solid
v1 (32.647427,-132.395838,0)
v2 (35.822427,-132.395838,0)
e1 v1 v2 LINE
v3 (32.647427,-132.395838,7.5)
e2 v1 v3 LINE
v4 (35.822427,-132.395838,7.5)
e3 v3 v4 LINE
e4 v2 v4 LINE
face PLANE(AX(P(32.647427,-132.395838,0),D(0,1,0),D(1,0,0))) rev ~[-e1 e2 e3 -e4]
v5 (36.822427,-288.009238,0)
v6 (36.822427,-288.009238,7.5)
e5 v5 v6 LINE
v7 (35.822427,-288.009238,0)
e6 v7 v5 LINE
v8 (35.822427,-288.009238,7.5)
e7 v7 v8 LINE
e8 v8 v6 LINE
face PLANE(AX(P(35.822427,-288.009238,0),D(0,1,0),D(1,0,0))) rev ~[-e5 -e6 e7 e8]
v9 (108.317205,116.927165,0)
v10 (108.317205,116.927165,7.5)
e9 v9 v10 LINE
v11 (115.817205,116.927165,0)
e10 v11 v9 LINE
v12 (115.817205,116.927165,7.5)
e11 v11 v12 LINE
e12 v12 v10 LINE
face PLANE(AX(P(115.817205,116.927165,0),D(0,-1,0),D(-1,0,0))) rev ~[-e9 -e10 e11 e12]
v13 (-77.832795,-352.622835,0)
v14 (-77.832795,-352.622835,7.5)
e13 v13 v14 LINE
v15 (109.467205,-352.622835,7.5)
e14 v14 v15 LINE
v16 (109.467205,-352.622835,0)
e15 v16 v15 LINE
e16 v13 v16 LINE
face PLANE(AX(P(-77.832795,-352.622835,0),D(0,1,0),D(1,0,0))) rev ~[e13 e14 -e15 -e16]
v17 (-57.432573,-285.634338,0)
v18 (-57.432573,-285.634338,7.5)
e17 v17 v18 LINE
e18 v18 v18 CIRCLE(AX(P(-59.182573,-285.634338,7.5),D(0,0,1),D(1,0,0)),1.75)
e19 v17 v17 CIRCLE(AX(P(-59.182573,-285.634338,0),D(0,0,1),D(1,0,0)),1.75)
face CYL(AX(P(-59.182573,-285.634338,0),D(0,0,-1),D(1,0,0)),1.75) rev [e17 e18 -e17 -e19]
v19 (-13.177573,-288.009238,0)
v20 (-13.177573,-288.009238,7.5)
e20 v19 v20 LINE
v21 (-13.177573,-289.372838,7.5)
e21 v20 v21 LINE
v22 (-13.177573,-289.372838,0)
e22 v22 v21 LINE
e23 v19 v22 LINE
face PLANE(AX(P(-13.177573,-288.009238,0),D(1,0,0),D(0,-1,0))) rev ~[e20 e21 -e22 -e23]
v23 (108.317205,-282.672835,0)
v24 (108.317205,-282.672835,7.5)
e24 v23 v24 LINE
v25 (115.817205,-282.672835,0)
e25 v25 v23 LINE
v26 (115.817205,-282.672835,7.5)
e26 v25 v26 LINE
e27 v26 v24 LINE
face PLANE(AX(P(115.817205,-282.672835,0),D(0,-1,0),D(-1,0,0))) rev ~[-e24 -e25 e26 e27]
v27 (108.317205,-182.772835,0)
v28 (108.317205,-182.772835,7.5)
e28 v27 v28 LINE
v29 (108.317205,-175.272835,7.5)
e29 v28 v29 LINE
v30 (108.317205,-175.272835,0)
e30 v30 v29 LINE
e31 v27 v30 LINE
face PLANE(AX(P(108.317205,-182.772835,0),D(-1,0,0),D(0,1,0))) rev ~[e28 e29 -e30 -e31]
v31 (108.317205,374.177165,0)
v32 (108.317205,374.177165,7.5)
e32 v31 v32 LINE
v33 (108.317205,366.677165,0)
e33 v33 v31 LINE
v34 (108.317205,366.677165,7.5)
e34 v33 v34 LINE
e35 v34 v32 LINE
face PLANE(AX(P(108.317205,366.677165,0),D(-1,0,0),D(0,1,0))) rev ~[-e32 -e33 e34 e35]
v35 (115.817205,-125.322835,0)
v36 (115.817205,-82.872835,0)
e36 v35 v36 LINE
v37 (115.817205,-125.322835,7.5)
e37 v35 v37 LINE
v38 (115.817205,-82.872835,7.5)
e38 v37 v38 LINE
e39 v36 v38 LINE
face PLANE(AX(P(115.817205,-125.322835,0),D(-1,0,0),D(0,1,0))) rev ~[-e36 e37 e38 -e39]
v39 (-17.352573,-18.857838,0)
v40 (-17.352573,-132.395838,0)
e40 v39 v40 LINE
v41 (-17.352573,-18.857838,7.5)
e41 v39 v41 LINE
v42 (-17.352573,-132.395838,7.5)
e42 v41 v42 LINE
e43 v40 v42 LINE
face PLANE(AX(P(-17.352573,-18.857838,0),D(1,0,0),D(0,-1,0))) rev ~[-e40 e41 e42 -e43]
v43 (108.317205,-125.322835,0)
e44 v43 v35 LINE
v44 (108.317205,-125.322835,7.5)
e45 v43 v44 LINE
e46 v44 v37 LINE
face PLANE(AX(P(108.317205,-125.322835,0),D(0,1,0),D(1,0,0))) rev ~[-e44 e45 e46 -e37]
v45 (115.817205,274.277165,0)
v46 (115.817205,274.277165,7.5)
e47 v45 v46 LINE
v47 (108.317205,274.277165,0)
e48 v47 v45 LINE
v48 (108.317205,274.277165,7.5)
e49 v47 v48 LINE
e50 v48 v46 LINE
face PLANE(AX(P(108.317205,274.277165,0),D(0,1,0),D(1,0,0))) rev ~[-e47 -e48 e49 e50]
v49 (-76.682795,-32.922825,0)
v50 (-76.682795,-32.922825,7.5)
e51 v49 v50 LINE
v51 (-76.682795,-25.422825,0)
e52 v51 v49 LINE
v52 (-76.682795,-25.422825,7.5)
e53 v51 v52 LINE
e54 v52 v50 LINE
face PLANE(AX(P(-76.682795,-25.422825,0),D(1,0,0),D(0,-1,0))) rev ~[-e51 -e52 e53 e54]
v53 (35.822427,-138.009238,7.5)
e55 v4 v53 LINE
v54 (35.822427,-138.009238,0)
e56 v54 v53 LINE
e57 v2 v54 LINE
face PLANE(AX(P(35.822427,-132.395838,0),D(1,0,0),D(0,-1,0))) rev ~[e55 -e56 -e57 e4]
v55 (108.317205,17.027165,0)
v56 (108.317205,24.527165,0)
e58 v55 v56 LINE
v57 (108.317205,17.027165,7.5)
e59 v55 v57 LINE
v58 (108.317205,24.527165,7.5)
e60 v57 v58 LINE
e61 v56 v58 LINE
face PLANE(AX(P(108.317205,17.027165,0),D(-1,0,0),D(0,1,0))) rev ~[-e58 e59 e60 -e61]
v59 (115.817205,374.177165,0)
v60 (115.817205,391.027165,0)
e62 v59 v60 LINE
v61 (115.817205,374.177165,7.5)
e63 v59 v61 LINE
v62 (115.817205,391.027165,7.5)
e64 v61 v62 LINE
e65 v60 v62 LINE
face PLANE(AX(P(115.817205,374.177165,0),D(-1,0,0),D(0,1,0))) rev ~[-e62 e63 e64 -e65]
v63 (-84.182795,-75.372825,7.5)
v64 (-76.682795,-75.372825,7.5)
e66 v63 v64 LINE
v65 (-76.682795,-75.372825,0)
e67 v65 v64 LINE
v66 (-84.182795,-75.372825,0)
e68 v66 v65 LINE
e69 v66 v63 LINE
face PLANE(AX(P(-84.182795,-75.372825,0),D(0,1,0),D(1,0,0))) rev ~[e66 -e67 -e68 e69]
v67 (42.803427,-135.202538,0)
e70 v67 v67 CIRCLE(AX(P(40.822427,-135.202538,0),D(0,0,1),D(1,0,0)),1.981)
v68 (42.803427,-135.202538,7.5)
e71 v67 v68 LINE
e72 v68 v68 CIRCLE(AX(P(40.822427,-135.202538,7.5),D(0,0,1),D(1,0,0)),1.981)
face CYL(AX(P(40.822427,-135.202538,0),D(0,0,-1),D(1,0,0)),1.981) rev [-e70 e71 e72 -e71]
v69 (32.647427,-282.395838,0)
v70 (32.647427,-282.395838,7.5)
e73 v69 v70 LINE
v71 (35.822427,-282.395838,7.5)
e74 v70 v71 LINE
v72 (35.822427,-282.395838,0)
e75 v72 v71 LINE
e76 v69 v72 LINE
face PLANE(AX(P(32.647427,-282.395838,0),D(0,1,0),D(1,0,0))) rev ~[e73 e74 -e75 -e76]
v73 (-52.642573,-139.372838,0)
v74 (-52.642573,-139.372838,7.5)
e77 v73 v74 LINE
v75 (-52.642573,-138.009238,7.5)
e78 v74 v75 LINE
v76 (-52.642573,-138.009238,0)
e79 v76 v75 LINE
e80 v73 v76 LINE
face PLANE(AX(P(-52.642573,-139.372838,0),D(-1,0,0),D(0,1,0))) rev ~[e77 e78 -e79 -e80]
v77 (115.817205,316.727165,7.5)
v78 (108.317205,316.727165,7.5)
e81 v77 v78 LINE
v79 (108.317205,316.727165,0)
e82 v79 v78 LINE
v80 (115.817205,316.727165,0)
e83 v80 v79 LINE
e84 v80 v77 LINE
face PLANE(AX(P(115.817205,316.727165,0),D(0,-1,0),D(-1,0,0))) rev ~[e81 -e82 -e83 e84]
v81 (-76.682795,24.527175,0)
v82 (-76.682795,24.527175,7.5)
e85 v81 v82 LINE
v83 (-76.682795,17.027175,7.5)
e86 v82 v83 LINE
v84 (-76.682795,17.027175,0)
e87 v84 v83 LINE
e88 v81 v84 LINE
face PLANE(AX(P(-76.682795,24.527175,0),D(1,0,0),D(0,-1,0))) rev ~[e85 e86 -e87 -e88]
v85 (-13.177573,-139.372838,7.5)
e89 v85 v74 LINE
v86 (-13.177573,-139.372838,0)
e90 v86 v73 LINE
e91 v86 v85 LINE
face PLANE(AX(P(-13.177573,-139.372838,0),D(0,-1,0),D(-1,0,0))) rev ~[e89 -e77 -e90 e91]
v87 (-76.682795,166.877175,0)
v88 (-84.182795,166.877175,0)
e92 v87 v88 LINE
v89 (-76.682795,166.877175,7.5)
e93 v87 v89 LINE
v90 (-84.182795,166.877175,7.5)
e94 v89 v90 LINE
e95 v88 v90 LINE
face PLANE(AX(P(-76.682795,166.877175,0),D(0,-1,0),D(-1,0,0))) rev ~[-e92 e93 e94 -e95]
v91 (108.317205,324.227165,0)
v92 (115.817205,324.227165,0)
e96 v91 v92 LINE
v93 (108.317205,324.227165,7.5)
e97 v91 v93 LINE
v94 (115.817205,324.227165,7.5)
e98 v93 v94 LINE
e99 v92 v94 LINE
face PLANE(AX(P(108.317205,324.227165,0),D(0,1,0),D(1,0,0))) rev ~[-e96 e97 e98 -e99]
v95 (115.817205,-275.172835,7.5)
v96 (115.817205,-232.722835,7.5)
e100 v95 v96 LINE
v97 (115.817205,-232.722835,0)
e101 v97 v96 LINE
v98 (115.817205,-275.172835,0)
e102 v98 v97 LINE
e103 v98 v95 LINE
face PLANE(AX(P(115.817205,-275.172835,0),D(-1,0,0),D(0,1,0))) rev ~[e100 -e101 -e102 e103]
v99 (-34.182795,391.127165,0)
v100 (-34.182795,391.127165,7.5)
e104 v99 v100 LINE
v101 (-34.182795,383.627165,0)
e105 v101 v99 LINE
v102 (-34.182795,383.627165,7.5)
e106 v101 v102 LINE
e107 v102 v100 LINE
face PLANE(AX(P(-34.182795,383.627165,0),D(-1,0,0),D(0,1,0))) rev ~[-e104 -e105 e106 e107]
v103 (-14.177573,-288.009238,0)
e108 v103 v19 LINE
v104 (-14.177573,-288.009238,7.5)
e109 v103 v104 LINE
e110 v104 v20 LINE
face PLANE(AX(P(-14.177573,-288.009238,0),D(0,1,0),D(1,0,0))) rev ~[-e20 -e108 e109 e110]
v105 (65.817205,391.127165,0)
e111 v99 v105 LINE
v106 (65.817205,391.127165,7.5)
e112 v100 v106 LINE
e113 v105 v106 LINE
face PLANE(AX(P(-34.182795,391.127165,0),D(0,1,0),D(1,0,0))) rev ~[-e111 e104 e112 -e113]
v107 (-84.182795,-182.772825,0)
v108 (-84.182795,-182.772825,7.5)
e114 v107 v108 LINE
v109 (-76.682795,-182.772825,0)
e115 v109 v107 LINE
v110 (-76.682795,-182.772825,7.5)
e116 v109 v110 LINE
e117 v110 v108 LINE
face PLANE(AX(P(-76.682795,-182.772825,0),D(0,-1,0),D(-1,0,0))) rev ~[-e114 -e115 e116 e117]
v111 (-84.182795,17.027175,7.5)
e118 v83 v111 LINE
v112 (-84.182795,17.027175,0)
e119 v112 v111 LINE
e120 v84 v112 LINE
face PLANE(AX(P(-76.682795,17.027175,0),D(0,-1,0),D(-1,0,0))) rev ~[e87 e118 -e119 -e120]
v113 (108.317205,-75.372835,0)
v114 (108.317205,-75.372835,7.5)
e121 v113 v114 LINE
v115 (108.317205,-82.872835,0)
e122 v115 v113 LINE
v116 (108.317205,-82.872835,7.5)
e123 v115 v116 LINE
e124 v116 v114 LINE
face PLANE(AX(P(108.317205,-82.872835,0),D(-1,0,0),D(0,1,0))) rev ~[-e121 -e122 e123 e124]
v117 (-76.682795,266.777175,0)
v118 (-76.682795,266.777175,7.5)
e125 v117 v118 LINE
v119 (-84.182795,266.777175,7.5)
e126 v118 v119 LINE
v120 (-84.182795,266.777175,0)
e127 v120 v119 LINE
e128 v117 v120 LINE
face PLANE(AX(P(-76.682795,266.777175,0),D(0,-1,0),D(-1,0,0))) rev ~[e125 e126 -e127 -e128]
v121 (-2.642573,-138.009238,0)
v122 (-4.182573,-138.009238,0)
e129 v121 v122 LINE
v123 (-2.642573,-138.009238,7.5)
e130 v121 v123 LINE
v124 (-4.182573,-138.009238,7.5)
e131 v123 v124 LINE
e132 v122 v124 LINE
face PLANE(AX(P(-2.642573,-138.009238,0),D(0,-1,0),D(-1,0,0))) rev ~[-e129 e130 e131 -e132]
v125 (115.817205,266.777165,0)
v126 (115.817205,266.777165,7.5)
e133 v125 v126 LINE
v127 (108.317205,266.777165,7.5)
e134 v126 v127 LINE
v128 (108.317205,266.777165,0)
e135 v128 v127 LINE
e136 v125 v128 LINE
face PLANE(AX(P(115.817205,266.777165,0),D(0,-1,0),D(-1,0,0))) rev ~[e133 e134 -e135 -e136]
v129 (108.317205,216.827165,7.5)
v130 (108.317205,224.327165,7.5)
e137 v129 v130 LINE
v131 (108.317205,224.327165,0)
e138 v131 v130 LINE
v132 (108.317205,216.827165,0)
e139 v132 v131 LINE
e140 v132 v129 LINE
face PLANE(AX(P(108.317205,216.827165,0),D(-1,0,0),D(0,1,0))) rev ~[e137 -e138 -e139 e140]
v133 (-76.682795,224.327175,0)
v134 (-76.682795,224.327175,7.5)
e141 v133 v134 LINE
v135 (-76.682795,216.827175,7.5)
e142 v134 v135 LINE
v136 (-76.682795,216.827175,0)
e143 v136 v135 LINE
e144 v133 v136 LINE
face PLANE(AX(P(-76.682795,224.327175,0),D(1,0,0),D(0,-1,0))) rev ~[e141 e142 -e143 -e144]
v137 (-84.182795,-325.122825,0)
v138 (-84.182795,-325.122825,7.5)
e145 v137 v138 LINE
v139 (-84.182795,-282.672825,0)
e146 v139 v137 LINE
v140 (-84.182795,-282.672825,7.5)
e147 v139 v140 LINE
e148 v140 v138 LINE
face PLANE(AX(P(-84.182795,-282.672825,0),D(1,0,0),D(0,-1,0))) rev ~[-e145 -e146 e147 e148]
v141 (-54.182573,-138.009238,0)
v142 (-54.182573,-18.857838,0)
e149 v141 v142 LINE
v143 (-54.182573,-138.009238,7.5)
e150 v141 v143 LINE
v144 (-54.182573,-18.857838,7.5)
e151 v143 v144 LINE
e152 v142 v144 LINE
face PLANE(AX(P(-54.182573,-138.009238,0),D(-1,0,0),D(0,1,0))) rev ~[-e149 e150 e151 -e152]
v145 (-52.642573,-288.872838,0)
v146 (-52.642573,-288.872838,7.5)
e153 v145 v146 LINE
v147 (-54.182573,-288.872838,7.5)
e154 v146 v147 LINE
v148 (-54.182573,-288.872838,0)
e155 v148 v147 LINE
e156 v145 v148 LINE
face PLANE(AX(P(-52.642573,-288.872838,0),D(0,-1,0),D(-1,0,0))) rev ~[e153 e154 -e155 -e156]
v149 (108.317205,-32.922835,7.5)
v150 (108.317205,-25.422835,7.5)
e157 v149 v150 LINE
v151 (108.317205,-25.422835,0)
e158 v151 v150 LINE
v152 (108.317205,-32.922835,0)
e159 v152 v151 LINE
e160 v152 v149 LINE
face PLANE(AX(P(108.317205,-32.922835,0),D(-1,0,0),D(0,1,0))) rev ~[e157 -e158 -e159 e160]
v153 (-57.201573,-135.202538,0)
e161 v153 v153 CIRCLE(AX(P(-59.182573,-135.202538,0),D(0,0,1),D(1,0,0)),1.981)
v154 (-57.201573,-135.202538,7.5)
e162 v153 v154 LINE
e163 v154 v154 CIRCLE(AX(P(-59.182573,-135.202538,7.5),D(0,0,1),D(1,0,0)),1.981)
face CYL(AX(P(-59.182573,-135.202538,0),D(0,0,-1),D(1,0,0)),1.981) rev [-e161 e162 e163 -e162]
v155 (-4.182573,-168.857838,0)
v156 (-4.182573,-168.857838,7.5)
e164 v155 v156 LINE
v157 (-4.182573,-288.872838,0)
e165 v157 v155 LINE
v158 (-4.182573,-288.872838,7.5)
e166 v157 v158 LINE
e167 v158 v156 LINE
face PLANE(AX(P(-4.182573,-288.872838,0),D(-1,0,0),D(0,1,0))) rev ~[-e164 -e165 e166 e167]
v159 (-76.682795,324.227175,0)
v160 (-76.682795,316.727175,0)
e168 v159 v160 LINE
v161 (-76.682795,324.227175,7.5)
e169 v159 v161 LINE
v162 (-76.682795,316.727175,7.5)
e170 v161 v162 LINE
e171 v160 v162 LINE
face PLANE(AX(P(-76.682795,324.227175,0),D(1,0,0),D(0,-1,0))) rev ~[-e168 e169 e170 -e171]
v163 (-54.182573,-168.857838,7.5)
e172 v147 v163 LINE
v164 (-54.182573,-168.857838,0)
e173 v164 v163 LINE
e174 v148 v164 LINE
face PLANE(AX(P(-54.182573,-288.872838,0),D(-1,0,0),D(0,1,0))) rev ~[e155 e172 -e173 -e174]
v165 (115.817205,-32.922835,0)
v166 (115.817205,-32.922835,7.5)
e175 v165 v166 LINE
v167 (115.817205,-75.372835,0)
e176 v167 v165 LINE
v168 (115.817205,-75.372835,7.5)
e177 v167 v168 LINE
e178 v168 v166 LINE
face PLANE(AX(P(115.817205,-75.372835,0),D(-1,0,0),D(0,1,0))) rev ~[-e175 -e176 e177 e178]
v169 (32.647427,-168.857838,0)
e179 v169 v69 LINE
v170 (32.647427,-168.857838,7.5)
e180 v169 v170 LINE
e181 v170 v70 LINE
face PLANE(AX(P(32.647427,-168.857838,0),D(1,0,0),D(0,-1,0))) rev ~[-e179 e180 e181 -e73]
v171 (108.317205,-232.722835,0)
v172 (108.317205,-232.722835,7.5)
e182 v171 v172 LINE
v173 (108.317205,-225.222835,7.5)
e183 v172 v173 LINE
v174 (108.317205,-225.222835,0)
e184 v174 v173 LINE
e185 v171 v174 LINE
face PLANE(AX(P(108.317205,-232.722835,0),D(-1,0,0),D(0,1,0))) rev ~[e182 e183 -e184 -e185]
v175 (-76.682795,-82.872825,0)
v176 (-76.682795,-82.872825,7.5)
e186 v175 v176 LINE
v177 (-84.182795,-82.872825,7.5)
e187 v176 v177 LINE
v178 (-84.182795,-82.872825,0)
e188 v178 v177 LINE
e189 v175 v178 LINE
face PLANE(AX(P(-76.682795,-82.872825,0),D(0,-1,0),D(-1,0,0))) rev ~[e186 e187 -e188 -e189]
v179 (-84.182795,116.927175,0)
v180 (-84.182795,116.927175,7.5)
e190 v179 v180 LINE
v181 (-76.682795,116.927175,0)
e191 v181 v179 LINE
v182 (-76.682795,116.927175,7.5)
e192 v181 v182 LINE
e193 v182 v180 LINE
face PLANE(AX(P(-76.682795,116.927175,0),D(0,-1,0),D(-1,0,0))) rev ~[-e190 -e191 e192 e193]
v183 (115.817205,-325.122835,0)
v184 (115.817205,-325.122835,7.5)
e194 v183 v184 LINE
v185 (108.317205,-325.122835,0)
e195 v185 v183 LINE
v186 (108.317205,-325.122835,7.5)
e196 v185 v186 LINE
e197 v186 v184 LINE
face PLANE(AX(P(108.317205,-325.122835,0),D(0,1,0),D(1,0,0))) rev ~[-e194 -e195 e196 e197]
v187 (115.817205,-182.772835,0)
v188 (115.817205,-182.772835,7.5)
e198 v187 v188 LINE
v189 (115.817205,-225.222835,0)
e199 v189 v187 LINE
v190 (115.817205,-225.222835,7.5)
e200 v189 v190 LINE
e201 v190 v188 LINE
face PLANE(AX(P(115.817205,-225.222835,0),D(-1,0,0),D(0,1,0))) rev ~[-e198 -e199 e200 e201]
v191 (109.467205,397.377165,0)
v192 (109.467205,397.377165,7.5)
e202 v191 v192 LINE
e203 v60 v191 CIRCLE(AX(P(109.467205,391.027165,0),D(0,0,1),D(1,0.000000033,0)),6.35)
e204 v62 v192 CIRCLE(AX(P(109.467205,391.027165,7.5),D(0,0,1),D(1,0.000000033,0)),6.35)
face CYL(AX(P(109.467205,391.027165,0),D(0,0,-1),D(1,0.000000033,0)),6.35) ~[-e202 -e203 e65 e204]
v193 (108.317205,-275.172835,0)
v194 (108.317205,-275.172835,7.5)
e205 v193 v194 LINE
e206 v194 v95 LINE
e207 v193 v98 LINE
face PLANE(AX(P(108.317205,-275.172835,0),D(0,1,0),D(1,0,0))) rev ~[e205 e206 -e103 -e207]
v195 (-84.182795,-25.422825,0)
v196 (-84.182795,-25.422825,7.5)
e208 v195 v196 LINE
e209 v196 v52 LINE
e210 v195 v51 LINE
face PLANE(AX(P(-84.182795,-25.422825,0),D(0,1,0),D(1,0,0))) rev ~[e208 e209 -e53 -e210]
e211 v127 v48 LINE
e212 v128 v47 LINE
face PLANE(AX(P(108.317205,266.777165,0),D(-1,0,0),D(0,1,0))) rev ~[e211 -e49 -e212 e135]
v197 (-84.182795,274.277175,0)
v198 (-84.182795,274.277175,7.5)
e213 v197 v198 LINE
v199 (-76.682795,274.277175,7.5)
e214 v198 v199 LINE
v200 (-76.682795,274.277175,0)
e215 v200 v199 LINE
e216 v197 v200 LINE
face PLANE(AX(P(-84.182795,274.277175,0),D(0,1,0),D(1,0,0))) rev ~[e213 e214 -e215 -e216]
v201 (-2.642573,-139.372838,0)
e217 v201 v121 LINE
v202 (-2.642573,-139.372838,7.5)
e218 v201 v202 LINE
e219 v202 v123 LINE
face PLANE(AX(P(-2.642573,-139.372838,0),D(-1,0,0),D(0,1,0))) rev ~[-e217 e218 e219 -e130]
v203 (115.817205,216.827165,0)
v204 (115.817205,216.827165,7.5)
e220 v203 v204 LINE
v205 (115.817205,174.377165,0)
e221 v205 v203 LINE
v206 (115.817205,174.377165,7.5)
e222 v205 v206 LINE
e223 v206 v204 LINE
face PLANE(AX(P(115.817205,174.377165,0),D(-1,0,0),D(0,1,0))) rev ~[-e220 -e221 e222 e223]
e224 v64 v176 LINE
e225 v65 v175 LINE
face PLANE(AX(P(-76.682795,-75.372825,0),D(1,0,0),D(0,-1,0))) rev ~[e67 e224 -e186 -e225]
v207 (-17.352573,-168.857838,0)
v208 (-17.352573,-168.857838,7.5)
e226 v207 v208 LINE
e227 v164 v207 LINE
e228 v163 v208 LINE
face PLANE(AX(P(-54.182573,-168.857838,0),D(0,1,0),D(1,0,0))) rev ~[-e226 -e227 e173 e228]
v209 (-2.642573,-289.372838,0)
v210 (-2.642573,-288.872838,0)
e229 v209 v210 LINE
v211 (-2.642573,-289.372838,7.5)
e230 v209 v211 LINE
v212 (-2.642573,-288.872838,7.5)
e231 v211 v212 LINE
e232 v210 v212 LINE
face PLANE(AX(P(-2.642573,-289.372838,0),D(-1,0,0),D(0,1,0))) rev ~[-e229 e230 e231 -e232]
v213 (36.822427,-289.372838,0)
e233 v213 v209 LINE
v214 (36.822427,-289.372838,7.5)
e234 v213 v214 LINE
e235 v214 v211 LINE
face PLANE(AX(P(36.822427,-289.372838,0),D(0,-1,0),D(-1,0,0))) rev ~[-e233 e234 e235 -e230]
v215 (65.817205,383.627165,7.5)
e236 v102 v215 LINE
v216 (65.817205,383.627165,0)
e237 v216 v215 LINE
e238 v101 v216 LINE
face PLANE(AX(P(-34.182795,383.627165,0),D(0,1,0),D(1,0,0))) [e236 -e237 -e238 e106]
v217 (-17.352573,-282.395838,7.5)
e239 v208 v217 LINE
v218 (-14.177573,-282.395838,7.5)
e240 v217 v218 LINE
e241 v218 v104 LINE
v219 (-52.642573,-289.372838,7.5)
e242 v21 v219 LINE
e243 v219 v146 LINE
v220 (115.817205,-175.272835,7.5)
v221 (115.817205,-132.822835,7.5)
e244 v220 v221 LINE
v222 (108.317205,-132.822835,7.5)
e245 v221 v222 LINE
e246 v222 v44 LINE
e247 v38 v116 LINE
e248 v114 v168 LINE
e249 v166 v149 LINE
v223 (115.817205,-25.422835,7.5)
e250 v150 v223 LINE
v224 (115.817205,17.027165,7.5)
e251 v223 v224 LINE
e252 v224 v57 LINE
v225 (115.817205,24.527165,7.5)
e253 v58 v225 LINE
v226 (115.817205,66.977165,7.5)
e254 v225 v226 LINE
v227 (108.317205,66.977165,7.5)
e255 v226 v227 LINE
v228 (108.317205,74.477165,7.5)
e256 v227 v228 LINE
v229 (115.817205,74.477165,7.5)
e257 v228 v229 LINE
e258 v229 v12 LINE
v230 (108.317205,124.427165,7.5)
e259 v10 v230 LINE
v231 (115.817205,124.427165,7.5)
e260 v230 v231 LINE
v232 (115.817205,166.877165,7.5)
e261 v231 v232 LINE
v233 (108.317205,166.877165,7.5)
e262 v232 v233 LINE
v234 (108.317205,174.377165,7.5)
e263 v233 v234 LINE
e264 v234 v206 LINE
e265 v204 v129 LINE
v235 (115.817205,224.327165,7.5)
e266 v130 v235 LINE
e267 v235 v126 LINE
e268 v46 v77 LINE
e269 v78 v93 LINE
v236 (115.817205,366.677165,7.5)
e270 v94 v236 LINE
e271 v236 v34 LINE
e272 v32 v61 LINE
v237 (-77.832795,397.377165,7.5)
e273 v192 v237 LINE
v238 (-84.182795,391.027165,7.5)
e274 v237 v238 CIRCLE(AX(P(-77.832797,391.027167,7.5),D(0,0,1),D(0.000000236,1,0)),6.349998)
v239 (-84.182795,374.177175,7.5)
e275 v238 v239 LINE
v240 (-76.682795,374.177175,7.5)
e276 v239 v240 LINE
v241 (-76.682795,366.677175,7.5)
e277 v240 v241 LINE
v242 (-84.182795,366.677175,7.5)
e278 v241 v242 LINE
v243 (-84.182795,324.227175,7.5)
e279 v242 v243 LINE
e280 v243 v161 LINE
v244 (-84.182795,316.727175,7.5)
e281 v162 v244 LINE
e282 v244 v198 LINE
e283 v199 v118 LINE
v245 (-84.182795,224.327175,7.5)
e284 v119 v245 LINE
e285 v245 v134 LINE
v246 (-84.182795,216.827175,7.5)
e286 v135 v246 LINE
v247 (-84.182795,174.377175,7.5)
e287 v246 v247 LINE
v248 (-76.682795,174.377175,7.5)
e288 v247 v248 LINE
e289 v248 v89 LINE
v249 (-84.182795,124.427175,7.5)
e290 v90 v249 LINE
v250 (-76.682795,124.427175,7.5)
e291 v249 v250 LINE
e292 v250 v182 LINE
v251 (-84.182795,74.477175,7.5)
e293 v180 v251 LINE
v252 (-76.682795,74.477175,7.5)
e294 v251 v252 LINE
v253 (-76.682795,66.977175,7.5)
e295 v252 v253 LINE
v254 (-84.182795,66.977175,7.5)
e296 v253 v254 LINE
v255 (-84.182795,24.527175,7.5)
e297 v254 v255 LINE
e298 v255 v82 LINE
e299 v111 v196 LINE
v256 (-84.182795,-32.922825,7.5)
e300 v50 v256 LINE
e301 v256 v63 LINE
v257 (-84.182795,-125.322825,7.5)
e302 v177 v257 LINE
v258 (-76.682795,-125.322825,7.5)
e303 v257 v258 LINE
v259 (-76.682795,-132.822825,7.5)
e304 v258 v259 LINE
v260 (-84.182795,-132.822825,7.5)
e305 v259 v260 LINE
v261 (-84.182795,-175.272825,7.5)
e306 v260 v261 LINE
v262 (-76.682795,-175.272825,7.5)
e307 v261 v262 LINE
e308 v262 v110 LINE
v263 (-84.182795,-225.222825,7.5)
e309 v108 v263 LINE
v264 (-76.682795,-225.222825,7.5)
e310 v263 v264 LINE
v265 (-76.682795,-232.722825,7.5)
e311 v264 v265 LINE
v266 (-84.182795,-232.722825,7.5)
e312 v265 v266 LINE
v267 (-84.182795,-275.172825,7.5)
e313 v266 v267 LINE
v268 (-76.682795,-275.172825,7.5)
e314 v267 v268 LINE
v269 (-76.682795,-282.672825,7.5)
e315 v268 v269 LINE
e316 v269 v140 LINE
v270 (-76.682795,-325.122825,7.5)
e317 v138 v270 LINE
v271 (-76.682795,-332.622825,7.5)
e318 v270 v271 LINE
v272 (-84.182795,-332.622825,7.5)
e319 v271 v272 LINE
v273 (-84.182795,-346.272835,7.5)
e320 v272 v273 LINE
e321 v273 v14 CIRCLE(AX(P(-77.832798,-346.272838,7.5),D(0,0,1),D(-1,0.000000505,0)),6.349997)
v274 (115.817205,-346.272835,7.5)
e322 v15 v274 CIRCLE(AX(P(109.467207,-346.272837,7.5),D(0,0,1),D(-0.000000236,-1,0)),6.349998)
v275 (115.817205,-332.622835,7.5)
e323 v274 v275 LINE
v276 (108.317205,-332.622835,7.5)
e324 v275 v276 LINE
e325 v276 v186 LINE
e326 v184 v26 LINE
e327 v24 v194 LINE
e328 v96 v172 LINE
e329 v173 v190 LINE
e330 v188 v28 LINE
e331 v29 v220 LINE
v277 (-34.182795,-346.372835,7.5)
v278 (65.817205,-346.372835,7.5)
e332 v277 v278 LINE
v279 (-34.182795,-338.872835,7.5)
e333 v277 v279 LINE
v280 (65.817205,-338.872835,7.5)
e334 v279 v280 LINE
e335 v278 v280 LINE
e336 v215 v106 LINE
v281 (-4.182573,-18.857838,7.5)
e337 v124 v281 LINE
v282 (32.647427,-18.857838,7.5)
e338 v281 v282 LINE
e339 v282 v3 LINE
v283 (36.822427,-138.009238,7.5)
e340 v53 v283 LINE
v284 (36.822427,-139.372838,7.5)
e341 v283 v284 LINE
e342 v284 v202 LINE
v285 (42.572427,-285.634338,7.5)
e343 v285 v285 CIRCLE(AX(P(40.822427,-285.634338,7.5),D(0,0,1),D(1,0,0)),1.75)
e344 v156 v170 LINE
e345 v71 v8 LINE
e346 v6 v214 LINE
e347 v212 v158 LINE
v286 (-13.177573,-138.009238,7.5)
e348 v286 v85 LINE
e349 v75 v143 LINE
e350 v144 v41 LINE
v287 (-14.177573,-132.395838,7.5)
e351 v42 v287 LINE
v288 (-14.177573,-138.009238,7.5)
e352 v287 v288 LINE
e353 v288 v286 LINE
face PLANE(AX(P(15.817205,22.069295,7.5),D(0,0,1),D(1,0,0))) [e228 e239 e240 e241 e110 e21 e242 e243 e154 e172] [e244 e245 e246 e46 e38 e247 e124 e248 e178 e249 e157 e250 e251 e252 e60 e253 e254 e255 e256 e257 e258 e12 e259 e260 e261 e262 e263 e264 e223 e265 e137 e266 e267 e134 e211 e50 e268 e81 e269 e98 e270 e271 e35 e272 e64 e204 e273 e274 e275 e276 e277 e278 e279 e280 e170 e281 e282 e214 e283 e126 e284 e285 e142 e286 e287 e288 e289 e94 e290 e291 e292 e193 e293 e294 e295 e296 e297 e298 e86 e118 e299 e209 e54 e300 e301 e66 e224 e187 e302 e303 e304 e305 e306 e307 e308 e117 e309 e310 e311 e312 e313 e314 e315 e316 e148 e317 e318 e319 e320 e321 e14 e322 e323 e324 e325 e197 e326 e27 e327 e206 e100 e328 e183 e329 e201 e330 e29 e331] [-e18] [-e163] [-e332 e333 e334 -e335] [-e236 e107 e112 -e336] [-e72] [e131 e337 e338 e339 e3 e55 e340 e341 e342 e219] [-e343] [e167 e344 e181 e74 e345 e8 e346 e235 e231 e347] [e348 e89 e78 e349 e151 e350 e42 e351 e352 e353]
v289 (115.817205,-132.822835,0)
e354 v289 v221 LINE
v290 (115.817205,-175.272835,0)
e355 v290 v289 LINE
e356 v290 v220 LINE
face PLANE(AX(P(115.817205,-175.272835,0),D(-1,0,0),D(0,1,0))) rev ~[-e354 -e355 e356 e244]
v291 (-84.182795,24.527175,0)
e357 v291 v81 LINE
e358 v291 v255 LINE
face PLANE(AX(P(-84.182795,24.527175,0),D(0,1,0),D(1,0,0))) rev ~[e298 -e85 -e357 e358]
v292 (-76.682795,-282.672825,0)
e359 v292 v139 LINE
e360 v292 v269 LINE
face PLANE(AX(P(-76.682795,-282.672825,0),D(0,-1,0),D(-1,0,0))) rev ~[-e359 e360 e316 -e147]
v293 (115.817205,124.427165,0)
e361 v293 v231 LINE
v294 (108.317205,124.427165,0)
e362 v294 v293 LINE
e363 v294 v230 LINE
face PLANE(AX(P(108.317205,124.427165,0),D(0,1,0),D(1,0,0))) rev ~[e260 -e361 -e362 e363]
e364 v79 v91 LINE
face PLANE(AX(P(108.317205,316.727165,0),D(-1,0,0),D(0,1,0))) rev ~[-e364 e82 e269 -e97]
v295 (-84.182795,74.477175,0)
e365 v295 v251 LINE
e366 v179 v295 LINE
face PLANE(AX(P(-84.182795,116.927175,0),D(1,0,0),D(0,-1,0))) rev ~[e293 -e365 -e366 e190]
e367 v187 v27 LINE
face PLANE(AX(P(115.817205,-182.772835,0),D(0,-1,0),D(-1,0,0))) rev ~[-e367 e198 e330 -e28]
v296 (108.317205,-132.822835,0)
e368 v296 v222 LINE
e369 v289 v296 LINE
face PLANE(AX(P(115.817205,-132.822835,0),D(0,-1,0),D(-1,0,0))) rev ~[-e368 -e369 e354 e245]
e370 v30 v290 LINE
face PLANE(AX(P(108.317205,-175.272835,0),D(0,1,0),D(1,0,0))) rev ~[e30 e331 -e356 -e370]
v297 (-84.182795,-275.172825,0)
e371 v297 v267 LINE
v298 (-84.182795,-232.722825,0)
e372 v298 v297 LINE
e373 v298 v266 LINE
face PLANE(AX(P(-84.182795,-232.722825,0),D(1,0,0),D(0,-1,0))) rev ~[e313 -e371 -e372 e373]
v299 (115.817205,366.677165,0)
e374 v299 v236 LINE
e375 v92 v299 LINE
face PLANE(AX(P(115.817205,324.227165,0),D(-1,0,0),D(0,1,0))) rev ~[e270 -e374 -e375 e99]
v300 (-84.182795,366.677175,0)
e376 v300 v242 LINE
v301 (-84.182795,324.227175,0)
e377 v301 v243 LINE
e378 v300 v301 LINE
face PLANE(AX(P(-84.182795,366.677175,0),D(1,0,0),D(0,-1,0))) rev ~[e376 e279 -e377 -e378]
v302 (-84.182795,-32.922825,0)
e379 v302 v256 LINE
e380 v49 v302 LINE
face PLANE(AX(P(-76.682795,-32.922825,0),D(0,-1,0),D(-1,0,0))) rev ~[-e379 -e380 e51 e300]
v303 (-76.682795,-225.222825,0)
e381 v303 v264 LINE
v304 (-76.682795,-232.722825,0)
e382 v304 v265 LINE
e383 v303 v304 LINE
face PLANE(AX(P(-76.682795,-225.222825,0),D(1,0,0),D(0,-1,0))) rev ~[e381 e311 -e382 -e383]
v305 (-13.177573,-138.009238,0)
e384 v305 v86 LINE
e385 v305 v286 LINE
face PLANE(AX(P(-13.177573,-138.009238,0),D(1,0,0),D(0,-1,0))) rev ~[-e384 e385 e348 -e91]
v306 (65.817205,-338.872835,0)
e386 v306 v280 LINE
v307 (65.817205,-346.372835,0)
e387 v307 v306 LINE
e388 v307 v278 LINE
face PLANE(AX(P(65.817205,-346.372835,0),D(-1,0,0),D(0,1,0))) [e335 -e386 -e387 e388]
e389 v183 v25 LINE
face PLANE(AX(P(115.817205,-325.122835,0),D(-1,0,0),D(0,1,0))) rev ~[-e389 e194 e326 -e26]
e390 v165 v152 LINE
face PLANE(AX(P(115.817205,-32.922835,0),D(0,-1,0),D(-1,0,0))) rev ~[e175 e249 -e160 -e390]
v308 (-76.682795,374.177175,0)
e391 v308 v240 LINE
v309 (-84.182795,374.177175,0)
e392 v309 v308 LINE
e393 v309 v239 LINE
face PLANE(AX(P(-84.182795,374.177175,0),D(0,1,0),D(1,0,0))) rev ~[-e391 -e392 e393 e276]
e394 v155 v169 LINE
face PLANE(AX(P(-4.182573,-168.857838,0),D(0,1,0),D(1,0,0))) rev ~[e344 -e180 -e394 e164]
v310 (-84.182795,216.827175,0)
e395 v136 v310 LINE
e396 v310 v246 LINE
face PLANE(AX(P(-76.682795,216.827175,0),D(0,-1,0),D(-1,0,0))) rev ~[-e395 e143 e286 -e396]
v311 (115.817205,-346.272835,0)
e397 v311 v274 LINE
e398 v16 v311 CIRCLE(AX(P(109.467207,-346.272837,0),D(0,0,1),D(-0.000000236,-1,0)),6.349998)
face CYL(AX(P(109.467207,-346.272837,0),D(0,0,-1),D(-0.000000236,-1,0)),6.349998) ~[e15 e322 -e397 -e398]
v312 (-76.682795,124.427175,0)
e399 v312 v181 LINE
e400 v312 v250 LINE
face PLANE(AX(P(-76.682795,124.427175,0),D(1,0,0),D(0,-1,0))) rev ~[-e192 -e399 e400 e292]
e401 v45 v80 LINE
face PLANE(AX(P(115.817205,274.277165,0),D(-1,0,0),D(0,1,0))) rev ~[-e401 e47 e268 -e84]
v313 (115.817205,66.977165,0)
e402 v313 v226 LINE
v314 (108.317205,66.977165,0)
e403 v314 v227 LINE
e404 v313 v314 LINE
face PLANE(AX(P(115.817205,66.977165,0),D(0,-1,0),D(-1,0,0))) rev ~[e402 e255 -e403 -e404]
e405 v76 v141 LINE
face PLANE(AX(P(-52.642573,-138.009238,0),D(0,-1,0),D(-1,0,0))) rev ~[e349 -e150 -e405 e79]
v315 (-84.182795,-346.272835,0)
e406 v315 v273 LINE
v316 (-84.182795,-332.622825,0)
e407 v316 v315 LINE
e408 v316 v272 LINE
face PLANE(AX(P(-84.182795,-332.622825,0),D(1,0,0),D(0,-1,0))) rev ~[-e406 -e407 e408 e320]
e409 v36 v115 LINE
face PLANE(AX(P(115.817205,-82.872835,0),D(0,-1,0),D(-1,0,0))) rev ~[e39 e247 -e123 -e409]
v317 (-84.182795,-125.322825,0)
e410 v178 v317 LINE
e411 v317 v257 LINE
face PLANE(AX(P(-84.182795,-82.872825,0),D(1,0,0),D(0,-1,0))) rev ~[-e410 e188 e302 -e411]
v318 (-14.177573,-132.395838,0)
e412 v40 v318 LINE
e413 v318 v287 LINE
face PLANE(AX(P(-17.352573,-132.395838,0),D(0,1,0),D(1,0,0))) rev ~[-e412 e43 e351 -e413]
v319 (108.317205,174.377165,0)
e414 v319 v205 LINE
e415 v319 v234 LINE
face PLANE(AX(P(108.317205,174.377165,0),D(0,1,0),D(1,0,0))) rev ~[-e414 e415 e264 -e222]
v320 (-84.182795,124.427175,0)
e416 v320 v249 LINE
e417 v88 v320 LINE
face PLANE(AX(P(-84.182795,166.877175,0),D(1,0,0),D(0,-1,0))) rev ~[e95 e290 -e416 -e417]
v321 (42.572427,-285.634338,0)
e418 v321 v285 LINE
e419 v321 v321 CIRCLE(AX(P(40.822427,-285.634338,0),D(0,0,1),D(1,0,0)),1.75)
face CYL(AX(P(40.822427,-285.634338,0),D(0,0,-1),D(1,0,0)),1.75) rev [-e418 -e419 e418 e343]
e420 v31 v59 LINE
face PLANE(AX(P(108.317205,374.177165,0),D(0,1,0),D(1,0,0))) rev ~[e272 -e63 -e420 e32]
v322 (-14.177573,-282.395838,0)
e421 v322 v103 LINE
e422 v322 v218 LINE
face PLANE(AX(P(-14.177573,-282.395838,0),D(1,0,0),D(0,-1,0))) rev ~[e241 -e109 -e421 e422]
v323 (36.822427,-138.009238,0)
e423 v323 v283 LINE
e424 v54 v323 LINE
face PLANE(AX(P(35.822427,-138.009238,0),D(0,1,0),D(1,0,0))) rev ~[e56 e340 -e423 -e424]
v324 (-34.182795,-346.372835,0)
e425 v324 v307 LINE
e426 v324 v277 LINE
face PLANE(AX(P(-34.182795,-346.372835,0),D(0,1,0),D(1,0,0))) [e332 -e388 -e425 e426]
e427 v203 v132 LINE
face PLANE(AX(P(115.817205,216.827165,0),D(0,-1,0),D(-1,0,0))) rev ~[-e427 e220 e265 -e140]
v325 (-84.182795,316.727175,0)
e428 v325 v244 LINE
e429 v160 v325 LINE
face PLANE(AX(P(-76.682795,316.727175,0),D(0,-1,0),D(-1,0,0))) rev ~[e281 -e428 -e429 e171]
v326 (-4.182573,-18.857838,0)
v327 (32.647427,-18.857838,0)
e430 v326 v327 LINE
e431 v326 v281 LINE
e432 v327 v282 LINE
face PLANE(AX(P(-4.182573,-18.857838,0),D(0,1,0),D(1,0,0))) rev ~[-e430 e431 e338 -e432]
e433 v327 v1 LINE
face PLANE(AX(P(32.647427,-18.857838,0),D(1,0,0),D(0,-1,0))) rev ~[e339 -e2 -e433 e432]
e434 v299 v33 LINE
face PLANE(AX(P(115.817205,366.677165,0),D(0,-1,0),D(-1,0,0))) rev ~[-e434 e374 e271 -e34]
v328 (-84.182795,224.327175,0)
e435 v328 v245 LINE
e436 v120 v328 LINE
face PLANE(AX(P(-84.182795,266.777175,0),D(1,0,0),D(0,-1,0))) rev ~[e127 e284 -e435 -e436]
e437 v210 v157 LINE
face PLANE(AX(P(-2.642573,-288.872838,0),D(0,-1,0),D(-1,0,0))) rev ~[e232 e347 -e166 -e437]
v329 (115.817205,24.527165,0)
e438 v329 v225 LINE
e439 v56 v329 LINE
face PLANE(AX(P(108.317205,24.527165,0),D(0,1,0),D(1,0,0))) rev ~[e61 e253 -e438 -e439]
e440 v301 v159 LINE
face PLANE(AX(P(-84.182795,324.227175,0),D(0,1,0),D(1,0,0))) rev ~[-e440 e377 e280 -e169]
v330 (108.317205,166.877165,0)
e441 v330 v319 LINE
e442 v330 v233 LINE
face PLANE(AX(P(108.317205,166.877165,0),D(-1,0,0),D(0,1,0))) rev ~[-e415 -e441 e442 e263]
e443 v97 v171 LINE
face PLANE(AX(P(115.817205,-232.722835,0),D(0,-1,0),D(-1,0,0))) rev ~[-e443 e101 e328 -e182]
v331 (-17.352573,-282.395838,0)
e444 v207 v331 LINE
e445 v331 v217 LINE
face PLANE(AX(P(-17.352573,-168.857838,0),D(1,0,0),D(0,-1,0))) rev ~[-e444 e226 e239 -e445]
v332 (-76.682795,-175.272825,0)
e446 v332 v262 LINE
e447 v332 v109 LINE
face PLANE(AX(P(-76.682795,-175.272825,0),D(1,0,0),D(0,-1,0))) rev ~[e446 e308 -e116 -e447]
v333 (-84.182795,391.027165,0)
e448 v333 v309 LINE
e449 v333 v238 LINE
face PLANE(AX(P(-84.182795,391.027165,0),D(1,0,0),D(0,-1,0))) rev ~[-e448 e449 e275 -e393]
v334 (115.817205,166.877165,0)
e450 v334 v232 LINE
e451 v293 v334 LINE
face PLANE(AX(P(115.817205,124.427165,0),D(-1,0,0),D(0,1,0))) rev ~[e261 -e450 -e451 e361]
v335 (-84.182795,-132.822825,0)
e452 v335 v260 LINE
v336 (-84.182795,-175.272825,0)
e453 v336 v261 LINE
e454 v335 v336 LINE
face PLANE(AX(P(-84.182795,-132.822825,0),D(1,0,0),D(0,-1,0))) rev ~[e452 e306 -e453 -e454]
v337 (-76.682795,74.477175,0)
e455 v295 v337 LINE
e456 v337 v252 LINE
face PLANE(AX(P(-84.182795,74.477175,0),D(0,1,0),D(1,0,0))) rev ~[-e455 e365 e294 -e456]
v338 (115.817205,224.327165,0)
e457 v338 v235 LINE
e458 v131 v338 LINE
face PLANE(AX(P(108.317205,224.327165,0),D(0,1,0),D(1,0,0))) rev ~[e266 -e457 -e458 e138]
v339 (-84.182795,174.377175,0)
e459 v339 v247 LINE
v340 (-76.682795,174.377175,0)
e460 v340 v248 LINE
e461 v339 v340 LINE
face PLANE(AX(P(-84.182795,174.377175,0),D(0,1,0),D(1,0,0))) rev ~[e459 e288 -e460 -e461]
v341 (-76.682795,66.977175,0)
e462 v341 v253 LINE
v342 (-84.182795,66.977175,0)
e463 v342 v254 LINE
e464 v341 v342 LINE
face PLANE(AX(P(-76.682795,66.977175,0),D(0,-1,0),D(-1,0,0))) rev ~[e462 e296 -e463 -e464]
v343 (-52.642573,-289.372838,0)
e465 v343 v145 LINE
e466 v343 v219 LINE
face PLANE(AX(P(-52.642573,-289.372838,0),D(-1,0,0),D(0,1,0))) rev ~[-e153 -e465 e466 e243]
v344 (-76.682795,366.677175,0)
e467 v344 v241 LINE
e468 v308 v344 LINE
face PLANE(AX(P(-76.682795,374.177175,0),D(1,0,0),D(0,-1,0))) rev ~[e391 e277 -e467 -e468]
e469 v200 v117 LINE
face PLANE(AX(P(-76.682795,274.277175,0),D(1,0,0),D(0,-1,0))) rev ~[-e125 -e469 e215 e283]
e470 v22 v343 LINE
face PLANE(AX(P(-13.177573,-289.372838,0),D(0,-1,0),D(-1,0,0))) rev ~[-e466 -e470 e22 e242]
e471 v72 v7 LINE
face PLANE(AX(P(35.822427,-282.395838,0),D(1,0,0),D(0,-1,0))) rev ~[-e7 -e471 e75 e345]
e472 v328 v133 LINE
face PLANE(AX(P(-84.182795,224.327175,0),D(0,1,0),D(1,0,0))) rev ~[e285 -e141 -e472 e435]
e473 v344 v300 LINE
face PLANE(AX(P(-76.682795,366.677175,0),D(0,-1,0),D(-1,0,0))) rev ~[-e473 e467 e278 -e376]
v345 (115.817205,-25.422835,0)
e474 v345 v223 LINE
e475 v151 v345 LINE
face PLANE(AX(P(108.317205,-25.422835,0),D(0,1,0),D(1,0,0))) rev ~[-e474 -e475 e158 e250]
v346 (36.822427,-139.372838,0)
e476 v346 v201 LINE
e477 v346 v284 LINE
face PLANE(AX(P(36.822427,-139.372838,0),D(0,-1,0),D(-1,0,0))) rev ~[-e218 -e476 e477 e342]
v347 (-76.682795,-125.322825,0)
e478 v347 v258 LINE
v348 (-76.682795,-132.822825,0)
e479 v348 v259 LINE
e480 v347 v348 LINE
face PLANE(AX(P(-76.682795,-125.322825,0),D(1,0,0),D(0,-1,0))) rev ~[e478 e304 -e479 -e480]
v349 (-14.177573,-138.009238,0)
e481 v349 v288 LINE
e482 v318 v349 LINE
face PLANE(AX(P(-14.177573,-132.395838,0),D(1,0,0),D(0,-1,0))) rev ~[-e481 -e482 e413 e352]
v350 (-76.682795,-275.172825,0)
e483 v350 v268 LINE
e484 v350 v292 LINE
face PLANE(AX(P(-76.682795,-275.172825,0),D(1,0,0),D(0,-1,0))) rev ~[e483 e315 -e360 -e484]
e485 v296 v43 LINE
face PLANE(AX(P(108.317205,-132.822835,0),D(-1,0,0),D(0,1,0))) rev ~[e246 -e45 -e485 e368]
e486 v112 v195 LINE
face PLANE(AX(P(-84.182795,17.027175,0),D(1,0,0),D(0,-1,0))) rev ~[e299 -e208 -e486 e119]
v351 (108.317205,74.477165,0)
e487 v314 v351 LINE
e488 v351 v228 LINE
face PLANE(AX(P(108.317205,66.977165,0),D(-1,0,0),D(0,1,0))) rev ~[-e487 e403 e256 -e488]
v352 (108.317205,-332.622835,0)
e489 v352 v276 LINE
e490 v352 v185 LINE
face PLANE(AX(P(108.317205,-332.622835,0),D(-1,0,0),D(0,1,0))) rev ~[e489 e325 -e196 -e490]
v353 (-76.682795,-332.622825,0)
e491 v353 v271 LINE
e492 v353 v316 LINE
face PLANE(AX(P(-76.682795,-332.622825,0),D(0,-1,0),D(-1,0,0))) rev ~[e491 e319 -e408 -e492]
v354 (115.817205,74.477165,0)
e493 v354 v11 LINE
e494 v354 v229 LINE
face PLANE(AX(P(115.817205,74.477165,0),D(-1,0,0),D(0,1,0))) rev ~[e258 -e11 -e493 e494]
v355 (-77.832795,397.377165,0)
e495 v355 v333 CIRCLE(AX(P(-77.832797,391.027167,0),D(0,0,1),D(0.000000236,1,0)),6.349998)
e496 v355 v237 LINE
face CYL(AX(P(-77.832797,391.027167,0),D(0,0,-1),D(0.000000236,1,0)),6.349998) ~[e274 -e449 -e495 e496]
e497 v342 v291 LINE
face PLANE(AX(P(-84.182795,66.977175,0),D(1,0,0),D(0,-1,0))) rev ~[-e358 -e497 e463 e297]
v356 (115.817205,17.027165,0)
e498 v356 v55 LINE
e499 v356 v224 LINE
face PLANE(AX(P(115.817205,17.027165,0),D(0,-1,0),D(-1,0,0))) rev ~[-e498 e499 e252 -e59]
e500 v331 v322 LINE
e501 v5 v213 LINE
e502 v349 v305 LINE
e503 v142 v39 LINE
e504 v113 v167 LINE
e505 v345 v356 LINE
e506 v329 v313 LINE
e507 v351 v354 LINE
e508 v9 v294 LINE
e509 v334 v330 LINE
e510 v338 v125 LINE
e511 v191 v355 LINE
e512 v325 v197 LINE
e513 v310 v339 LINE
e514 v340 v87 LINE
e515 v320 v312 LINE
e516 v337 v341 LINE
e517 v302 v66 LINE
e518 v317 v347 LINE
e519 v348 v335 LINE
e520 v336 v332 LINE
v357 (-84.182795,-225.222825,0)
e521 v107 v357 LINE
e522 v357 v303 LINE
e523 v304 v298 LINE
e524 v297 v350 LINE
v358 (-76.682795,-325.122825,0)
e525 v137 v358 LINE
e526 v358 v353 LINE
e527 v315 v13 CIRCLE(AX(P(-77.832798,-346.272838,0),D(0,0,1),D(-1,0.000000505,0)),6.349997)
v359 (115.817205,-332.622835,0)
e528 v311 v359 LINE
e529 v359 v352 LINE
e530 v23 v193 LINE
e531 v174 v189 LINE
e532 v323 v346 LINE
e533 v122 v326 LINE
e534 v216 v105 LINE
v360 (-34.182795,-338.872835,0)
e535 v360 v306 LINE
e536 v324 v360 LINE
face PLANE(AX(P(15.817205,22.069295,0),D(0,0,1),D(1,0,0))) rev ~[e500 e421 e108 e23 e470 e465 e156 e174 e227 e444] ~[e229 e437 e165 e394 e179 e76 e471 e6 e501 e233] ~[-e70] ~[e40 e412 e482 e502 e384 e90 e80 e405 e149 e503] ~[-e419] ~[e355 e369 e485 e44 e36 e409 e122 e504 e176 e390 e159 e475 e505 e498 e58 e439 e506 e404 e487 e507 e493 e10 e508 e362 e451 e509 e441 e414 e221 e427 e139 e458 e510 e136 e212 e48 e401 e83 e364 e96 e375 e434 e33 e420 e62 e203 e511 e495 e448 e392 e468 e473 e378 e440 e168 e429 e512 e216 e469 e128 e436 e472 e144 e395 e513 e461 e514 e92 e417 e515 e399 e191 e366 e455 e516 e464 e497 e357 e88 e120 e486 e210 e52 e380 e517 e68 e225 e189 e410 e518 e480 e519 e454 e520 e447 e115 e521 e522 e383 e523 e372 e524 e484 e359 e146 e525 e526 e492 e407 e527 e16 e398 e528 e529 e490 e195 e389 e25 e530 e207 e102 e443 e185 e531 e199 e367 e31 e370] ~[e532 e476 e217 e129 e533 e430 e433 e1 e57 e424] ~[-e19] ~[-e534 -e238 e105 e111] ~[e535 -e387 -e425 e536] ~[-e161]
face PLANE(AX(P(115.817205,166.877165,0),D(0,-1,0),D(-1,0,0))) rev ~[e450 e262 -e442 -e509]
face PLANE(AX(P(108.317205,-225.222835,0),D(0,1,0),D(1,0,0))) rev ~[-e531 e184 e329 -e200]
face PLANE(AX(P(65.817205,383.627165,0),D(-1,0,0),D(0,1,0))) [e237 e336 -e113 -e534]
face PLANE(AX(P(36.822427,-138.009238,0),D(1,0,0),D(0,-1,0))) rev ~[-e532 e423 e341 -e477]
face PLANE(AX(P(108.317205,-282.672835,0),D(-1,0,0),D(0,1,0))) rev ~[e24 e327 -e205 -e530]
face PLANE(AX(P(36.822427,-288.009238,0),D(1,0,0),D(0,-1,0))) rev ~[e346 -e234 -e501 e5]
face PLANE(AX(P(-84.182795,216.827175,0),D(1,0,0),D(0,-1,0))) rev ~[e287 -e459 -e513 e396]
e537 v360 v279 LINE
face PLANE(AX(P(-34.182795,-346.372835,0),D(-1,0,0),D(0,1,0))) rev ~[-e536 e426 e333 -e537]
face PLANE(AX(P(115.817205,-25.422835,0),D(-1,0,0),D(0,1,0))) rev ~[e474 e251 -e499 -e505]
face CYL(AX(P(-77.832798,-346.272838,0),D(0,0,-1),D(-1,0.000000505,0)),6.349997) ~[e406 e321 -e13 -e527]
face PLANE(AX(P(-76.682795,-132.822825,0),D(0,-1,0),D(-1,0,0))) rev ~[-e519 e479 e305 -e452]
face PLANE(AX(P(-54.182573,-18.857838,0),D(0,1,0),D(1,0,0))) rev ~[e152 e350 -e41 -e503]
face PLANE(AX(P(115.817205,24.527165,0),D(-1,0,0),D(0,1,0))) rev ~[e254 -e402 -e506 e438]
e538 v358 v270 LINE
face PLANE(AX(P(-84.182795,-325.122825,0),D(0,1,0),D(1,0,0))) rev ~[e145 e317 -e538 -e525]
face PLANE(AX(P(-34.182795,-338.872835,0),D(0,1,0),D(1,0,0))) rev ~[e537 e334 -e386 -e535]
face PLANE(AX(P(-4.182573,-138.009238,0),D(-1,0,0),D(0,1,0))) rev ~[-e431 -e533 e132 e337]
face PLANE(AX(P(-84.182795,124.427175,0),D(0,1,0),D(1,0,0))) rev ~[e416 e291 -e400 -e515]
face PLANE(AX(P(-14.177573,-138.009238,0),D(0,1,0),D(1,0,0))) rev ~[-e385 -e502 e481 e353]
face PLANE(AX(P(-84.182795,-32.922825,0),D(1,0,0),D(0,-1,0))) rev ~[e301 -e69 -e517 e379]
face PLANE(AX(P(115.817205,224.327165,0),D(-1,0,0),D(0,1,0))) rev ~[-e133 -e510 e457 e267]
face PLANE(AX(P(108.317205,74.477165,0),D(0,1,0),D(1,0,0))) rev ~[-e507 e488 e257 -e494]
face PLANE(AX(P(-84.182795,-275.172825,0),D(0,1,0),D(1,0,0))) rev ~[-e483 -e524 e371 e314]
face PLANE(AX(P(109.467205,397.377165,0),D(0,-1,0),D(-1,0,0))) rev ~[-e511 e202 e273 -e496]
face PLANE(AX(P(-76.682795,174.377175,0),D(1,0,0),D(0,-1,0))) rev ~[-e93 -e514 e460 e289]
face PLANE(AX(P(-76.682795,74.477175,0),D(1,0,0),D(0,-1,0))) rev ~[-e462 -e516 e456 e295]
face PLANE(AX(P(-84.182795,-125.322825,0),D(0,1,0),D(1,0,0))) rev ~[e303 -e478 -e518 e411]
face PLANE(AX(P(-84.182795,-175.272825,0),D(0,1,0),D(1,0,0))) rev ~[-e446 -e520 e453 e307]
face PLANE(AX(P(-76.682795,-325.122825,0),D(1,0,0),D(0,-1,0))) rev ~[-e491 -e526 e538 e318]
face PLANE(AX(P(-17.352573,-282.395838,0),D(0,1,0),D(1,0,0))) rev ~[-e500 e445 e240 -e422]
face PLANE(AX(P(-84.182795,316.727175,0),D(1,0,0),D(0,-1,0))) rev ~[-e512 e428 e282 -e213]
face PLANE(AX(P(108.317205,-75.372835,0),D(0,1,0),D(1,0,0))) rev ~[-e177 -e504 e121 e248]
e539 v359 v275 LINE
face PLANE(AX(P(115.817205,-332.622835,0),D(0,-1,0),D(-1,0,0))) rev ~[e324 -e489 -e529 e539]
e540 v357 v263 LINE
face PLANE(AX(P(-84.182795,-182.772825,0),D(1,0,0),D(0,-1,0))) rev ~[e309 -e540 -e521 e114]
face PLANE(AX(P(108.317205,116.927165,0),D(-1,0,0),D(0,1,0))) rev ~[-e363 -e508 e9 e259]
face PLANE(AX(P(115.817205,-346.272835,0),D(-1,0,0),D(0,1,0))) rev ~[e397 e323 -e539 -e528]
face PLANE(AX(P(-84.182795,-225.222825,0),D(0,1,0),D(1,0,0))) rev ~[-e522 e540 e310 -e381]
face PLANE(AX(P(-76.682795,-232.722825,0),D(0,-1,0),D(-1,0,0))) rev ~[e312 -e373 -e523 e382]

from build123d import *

# Parameters (mm, degrees)
F0_R     = 1.75
F0_R_2   = 1.981
F0_W     = 100
F0_H     = 7.5
F1_DEPTH = 7.5


with BuildPart() as f1:
    # F0 (on Top) → F1 (new body)
    with BuildSketch(Plane.XY):
        with BuildLine():
            Line((109.467205, 397.377165), (-77.832795, 397.377165))
            ThreePointArc((-77.832795, 397.377165), (-82.322924, 395.517293), (-84.182795, 391.027165))
            Line((-84.182795, 391.027165), (-84.182795, 374.177175))
            Line((-84.182795, 374.177175), (-76.682795, 374.177175))
            Line((-76.682795, 374.177175), (-76.682795, 366.677175))
            Line((-76.682795, 366.677175), (-84.182795, 366.677175))
            Line((-84.182795, 366.677175), (-84.182795, 324.227175))
            Line((-84.182795, 324.227175), (-76.682795, 324.227175))
            Line((-76.682795, 324.227175), (-76.682795, 316.727175))
            Line((-76.682795, 316.727175), (-84.182795, 316.727175))
            Line((-84.182795, 316.727175), (-84.182795, 274.277175))
            Line((-84.182795, 274.277175), (-76.682795, 274.277175))
            Line((-76.682795, 274.277175), (-76.682795, 266.777175))
            Line((-76.682795, 266.777175), (-84.182795, 266.777175))
            Line((-84.182795, 266.777175), (-84.182795, 224.327175))
            Line((-84.182795, 224.327175), (-76.682795, 224.327175))
            Line((-76.682795, 224.327175), (-76.682795, 216.827175))
            Line((-76.682795, 216.827175), (-84.182795, 216.827175))
            Line((-84.182795, 216.827175), (-84.182795, 174.377175))
            Line((-84.182795, 174.377175), (-76.682795, 174.377175))
            Line((-76.682795, 174.377175), (-76.682795, 166.877175))
            Line((-76.682795, 166.877175), (-84.182795, 166.877175))
            Line((-84.182795, 166.877175), (-84.182795, 124.427175))
            Line((-84.182795, 124.427175), (-76.682795, 124.427175))
            Line((-76.682795, 124.427175), (-76.682795, 116.927175))
            Line((-76.682795, 116.927175), (-84.182795, 116.927175))
            Line((-84.182795, 116.927175), (-84.182795, 74.477175))
            Line((-84.182795, 74.477175), (-76.682795, 74.477175))
            Line((-76.682795, 74.477175), (-76.682795, 66.977175))
            Line((-76.682795, 66.977175), (-84.182795, 66.977175))
            Line((-84.182795, 66.977175), (-84.182795, 24.527175))
            Line((-84.182795, 24.527175), (-76.682795, 24.527175))
            Line((-76.682795, 24.527175), (-76.682795, 17.027175))
            Line((-76.682795, 17.027175), (-84.182795, 17.027175))
            Line((-84.182795, 17.027175), (-84.182795, -25.422825))
            Line((-84.182795, -25.422825), (-76.682795, -25.422825))
            Line((-76.682795, -25.422825), (-76.682795, -32.922825))
            Line((-76.682795, -32.922825), (-84.182795, -32.922825))
            Line((-84.182795, -32.922825), (-84.182795, -75.372825))
            Line((-84.182795, -75.372825), (-76.682795, -75.372825))
            Line((-76.682795, -75.372825), (-76.682795, -82.872825))
            Line((-76.682795, -82.872825), (-84.182795, -82.872825))
            Line((-84.182795, -82.872825), (-84.182795, -125.322825))
            Line((-84.182795, -125.322825), (-76.682795, -125.322825))
            Line((-76.682795, -125.322825), (-76.682795, -132.822825))
            Line((-76.682795, -132.822825), (-84.182795, -132.822825))
            Line((-84.182795, -132.822825), (-84.182795, -175.272825))
            Line((-84.182795, -175.272825), (-76.682795, -175.272825))
            Line((-76.682795, -175.272825), (-76.682795, -182.772825))
            Line((-76.682795, -182.772825), (-84.182795, -182.772825))
            Line((-84.182795, -182.772825), (-84.182795, -225.222825))
            Line((-84.182795, -225.222825), (-76.682795, -225.222825))
            Line((-76.682795, -225.222825), (-76.682795, -232.722825))
            Line((-76.682795, -232.722825), (-84.182795, -232.722825))
            Line((-84.182795, -232.722825), (-84.182795, -275.172825))
            Line((-84.182795, -275.172825), (-76.682795, -275.172825))
            Line((-76.682795, -275.172825), (-76.682795, -282.672825))
            Line((-76.682795, -282.672825), (-84.182795, -282.672825))
            Line((-84.182795, -282.672825), (-84.182795, -325.122825))
            Line((-84.182795, -325.122825), (-76.682795, -325.122825))
            Line((-76.682795, -325.122825), (-76.682795, -332.622825))
            Line((-76.682795, -332.622825), (-84.182795, -332.622825))
            Line((-84.182795, -332.622825), (-84.182795, -346.272835))
            ThreePointArc((-84.182795, -346.272835), (-82.322924, -350.762964), (-77.832795, -352.622835))
            Line((-77.832795, -352.622835), (109.467205, -352.622835))
            ThreePointArc((109.467205, -352.622835), (113.957333, -350.762964), (115.817205, -346.272835))
            Line((115.817205, -346.272835), (115.817205, -332.622835))
            Line((115.817205, -332.622835), (108.317205, -332.622835))
            Line((108.317205, -332.622835), (108.317205, -325.122835))
            Line((108.317205, -325.122835), (115.817205, -325.122835))
            Line((115.817205, -325.122835), (115.817205, -282.672835))
            Line((115.817205, -282.672835), (108.317205, -282.672835))
            Line((108.317205, -282.672835), (108.317205, -275.172835))
            Line((108.317205, -275.172835), (115.817205, -275.172835))
            Line((115.817205, -275.172835), (115.817205, -232.722835))
            Line((115.817205, -232.722835), (108.317205, -232.722835))
            Line((108.317205, -232.722835), (108.317205, -225.222835))
            Line((108.317205, -225.222835), (115.817205, -225.222835))
            Line((115.817205, -225.222835), (115.817205, -182.772835))
            Line((115.817205, -182.772835), (108.317205, -182.772835))
            Line((108.317205, -182.772835), (108.317205, -175.272835))
            Line((108.317205, -175.272835), (115.817205, -175.272835))
            Line((115.817205, -175.272835), (115.817205, -132.822835))
            Line((115.817205, -132.822835), (108.317205, -132.822835))
            Line((108.317205, -132.822835), (108.317205, -125.322835))
            Line((108.317205, -125.322835), (115.817205, -125.322835))
            Line((115.817205, -125.322835), (115.817205, -82.872835))
            Line((115.817205, -82.872835), (108.317205, -82.872835))
            Line((108.317205, -82.872835), (108.317205, -75.372835))
            Line((108.317205, -75.372835), (115.817205, -75.372835))
            Line((115.817205, -75.372835), (115.817205, -32.922835))
            Line((115.817205, -32.922835), (108.317205, -32.922835))
            Line((108.317205, -32.922835), (108.317205, -25.422835))
            Line((108.317205, -25.422835), (115.817205, -25.422835))
            Line((115.817205, -25.422835), (115.817205, 17.027165))
            Line((115.817205, 17.027165), (108.317205, 17.027165))
            Line((108.317205, 17.027165), (108.317205, 24.527165))
            Line((108.317205, 24.527165), (115.817205, 24.527165))
            Line((115.817205, 24.527165), (115.817205, 66.977165))
            Line((115.817205, 66.977165), (108.317205, 66.977165))
            Line((108.317205, 66.977165), (108.317205, 74.477165))
            Line((108.317205, 74.477165), (115.817205, 74.477165))
            Line((115.817205, 74.477165), (115.817205, 116.927165))
            Line((115.817205, 116.927165), (108.317205, 116.927165))
            Line((108.317205, 116.927165), (108.317205, 124.427165))
            Line((108.317205, 124.427165), (115.817205, 124.427165))
            Line((115.817205, 124.427165), (115.817205, 166.877165))
            Line((115.817205, 166.877165), (108.317205, 166.877165))
            Line((108.317205, 166.877165), (108.317205, 174.377165))
            Line((108.317205, 174.377165), (115.817205, 174.377165))
            Line((115.817205, 174.377165), (115.817205, 216.827165))
            Line((115.817205, 216.827165), (108.317205, 216.827165))
            Line((108.317205, 216.827165), (108.317205, 224.327165))
            Line((108.317205, 224.327165), (115.817205, 224.327165))
            Line((115.817205, 224.327165), (115.817205, 266.777165))
            Line((115.817205, 266.777165), (108.317205, 266.777165))
            Line((108.317205, 266.777165), (108.317205, 274.277165))
            Line((108.317205, 274.277165), (115.817205, 274.277165))
            Line((115.817205, 274.277165), (115.817205, 316.727165))
            Line((115.817205, 316.727165), (108.317205, 316.727165))
            Line((108.317205, 316.727165), (108.317205, 324.227165))
            Line((108.317205, 324.227165), (115.817205, 324.227165))
            Line((115.817205, 324.227165), (115.817205, 366.677165))
            Line((115.817205, 366.677165), (108.317205, 366.677165))
            Line((108.317205, 366.677165), (108.317205, 374.177165))
            Line((108.317205, 374.177165), (115.817205, 374.177165))
            Line((115.817205, 374.177165), (115.817205, 391.027165))
            ThreePointArc((115.817205, 391.027165), (113.957333, 395.517293), (109.467205, 397.377165))
        make_face()
        with Locations((-59.182573, -285.634338)):
            Circle(F0_R, mode=Mode.SUBTRACT)
        Polygon((-48.162773, -168.857838), (-41.787373, -168.857838), (-29.747773, -168.857838), (-23.372373, -168.857838), (-17.352573, -168.857838), (-17.352573, -180.237038), (-17.352573, -282.395838), (-14.177573, -282.395838), (-14.177573, -284.935838), (-14.177573, -286.586838), (-14.177573, -288.009238), (-13.177573, -288.009238), (-13.177573, -288.872838), (-13.177573, -289.372838), (-14.177573, -289.372838), (-32.592573, -289.372838), (-33.227573, -289.372838), (-51.642573, -289.372838), (-52.642573, -289.372838), (-52.642573, -288.872838), (-54.182573, -288.872838), (-54.182573, -282.395838), (-54.182573, -180.237038), (-54.182573, -168.857838), align=None, mode=Mode.SUBTRACT)
        with Locations((-59.182573, -135.202538)):
            Circle(F0_R_2, mode=Mode.SUBTRACT)
        Polygon((-52.642573, -138.872838), (-52.642573, -138.009238), (-54.182573, -138.009238), (-54.182573, -132.395838), (-54.182573, -30.237038), (-54.182573, -18.857838), (-48.162773, -18.857838), (-41.787373, -18.857838), (-29.747773, -18.857838), (-23.372373, -18.857838), (-17.352573, -18.857838), (-17.352573, -30.237038), (-17.352573, -132.395838), (-14.177573, -132.395838), (-14.177573, -134.935838), (-14.177573, -136.586838), (-14.177573, -138.009238), (-13.177573, -138.009238), (-13.177573, -138.872838), (-13.177573, -139.372838), (-14.177573, -139.372838), (-32.592573, -139.372838), (-33.227573, -139.372838), (-51.642573, -139.372838), (-52.642573, -139.372838), align=None, mode=Mode.SUBTRACT)
        with Locations((15.817205, -342.622835)):
            Rectangle(F0_W, F0_H, mode=Mode.SUBTRACT)
        with Locations((40.822427, -285.634338)):
            Circle(F0_R, mode=Mode.SUBTRACT)
        Polygon((-4.182573, -288.872838), (-4.182573, -282.395838), (-4.182573, -180.237038), (-4.182573, -168.857838), (1.837227, -168.857838), (8.212627, -168.857838), (20.252227, -168.857838), (26.627627, -168.857838), (32.647427, -168.857838), (32.647427, -180.237038), (32.647427, -282.395838), (35.822427, -282.395838), (35.822427, -284.935838), (35.822427, -286.586838), (35.822427, -288.009238), (36.822427, -288.009238), (36.822427, -288.872838), (36.822427, -289.372838), (35.822427, -289.372838), (16.772427, -289.372838), (-1.642573, -289.372838), (-2.642573, -289.372838), (-2.642573, -288.872838), align=None, mode=Mode.SUBTRACT)
        Polygon((32.647427, -18.857838), (32.647427, -30.237038), (32.647427, -132.395838), (35.822427, -132.395838), (35.822427, -134.935838), (35.822427, -136.586838), (35.822427, -138.009238), (36.822427, -138.009238), (36.822427, -138.872838), (36.822427, -139.372838), (35.822427, -139.372838), (17.407427, -139.372838), (16.772427, -139.372838), (-1.642573, -139.372838), (-2.642573, -139.372838), (-2.642573, -138.872838), (-2.642573, -138.009238), (-4.182573, -138.009238), (-4.182573, -132.395838), (-4.182573, -30.237038), (-4.182573, -18.857838), (1.837227, -18.857838), (8.212627, -18.857838), (20.252227, -18.857838), (26.627627, -18.857838), align=None, mode=Mode.SUBTRACT)
        with Locations((40.822427, -135.202538)):
            Circle(F0_R_2, mode=Mode.SUBTRACT)
        with Locations((15.817205, 387.377165)):
            Rectangle(F0_W, F0_H, mode=Mode.SUBTRACT)
    extrude(amount=F1_DEPTH)


solid = f1.part
